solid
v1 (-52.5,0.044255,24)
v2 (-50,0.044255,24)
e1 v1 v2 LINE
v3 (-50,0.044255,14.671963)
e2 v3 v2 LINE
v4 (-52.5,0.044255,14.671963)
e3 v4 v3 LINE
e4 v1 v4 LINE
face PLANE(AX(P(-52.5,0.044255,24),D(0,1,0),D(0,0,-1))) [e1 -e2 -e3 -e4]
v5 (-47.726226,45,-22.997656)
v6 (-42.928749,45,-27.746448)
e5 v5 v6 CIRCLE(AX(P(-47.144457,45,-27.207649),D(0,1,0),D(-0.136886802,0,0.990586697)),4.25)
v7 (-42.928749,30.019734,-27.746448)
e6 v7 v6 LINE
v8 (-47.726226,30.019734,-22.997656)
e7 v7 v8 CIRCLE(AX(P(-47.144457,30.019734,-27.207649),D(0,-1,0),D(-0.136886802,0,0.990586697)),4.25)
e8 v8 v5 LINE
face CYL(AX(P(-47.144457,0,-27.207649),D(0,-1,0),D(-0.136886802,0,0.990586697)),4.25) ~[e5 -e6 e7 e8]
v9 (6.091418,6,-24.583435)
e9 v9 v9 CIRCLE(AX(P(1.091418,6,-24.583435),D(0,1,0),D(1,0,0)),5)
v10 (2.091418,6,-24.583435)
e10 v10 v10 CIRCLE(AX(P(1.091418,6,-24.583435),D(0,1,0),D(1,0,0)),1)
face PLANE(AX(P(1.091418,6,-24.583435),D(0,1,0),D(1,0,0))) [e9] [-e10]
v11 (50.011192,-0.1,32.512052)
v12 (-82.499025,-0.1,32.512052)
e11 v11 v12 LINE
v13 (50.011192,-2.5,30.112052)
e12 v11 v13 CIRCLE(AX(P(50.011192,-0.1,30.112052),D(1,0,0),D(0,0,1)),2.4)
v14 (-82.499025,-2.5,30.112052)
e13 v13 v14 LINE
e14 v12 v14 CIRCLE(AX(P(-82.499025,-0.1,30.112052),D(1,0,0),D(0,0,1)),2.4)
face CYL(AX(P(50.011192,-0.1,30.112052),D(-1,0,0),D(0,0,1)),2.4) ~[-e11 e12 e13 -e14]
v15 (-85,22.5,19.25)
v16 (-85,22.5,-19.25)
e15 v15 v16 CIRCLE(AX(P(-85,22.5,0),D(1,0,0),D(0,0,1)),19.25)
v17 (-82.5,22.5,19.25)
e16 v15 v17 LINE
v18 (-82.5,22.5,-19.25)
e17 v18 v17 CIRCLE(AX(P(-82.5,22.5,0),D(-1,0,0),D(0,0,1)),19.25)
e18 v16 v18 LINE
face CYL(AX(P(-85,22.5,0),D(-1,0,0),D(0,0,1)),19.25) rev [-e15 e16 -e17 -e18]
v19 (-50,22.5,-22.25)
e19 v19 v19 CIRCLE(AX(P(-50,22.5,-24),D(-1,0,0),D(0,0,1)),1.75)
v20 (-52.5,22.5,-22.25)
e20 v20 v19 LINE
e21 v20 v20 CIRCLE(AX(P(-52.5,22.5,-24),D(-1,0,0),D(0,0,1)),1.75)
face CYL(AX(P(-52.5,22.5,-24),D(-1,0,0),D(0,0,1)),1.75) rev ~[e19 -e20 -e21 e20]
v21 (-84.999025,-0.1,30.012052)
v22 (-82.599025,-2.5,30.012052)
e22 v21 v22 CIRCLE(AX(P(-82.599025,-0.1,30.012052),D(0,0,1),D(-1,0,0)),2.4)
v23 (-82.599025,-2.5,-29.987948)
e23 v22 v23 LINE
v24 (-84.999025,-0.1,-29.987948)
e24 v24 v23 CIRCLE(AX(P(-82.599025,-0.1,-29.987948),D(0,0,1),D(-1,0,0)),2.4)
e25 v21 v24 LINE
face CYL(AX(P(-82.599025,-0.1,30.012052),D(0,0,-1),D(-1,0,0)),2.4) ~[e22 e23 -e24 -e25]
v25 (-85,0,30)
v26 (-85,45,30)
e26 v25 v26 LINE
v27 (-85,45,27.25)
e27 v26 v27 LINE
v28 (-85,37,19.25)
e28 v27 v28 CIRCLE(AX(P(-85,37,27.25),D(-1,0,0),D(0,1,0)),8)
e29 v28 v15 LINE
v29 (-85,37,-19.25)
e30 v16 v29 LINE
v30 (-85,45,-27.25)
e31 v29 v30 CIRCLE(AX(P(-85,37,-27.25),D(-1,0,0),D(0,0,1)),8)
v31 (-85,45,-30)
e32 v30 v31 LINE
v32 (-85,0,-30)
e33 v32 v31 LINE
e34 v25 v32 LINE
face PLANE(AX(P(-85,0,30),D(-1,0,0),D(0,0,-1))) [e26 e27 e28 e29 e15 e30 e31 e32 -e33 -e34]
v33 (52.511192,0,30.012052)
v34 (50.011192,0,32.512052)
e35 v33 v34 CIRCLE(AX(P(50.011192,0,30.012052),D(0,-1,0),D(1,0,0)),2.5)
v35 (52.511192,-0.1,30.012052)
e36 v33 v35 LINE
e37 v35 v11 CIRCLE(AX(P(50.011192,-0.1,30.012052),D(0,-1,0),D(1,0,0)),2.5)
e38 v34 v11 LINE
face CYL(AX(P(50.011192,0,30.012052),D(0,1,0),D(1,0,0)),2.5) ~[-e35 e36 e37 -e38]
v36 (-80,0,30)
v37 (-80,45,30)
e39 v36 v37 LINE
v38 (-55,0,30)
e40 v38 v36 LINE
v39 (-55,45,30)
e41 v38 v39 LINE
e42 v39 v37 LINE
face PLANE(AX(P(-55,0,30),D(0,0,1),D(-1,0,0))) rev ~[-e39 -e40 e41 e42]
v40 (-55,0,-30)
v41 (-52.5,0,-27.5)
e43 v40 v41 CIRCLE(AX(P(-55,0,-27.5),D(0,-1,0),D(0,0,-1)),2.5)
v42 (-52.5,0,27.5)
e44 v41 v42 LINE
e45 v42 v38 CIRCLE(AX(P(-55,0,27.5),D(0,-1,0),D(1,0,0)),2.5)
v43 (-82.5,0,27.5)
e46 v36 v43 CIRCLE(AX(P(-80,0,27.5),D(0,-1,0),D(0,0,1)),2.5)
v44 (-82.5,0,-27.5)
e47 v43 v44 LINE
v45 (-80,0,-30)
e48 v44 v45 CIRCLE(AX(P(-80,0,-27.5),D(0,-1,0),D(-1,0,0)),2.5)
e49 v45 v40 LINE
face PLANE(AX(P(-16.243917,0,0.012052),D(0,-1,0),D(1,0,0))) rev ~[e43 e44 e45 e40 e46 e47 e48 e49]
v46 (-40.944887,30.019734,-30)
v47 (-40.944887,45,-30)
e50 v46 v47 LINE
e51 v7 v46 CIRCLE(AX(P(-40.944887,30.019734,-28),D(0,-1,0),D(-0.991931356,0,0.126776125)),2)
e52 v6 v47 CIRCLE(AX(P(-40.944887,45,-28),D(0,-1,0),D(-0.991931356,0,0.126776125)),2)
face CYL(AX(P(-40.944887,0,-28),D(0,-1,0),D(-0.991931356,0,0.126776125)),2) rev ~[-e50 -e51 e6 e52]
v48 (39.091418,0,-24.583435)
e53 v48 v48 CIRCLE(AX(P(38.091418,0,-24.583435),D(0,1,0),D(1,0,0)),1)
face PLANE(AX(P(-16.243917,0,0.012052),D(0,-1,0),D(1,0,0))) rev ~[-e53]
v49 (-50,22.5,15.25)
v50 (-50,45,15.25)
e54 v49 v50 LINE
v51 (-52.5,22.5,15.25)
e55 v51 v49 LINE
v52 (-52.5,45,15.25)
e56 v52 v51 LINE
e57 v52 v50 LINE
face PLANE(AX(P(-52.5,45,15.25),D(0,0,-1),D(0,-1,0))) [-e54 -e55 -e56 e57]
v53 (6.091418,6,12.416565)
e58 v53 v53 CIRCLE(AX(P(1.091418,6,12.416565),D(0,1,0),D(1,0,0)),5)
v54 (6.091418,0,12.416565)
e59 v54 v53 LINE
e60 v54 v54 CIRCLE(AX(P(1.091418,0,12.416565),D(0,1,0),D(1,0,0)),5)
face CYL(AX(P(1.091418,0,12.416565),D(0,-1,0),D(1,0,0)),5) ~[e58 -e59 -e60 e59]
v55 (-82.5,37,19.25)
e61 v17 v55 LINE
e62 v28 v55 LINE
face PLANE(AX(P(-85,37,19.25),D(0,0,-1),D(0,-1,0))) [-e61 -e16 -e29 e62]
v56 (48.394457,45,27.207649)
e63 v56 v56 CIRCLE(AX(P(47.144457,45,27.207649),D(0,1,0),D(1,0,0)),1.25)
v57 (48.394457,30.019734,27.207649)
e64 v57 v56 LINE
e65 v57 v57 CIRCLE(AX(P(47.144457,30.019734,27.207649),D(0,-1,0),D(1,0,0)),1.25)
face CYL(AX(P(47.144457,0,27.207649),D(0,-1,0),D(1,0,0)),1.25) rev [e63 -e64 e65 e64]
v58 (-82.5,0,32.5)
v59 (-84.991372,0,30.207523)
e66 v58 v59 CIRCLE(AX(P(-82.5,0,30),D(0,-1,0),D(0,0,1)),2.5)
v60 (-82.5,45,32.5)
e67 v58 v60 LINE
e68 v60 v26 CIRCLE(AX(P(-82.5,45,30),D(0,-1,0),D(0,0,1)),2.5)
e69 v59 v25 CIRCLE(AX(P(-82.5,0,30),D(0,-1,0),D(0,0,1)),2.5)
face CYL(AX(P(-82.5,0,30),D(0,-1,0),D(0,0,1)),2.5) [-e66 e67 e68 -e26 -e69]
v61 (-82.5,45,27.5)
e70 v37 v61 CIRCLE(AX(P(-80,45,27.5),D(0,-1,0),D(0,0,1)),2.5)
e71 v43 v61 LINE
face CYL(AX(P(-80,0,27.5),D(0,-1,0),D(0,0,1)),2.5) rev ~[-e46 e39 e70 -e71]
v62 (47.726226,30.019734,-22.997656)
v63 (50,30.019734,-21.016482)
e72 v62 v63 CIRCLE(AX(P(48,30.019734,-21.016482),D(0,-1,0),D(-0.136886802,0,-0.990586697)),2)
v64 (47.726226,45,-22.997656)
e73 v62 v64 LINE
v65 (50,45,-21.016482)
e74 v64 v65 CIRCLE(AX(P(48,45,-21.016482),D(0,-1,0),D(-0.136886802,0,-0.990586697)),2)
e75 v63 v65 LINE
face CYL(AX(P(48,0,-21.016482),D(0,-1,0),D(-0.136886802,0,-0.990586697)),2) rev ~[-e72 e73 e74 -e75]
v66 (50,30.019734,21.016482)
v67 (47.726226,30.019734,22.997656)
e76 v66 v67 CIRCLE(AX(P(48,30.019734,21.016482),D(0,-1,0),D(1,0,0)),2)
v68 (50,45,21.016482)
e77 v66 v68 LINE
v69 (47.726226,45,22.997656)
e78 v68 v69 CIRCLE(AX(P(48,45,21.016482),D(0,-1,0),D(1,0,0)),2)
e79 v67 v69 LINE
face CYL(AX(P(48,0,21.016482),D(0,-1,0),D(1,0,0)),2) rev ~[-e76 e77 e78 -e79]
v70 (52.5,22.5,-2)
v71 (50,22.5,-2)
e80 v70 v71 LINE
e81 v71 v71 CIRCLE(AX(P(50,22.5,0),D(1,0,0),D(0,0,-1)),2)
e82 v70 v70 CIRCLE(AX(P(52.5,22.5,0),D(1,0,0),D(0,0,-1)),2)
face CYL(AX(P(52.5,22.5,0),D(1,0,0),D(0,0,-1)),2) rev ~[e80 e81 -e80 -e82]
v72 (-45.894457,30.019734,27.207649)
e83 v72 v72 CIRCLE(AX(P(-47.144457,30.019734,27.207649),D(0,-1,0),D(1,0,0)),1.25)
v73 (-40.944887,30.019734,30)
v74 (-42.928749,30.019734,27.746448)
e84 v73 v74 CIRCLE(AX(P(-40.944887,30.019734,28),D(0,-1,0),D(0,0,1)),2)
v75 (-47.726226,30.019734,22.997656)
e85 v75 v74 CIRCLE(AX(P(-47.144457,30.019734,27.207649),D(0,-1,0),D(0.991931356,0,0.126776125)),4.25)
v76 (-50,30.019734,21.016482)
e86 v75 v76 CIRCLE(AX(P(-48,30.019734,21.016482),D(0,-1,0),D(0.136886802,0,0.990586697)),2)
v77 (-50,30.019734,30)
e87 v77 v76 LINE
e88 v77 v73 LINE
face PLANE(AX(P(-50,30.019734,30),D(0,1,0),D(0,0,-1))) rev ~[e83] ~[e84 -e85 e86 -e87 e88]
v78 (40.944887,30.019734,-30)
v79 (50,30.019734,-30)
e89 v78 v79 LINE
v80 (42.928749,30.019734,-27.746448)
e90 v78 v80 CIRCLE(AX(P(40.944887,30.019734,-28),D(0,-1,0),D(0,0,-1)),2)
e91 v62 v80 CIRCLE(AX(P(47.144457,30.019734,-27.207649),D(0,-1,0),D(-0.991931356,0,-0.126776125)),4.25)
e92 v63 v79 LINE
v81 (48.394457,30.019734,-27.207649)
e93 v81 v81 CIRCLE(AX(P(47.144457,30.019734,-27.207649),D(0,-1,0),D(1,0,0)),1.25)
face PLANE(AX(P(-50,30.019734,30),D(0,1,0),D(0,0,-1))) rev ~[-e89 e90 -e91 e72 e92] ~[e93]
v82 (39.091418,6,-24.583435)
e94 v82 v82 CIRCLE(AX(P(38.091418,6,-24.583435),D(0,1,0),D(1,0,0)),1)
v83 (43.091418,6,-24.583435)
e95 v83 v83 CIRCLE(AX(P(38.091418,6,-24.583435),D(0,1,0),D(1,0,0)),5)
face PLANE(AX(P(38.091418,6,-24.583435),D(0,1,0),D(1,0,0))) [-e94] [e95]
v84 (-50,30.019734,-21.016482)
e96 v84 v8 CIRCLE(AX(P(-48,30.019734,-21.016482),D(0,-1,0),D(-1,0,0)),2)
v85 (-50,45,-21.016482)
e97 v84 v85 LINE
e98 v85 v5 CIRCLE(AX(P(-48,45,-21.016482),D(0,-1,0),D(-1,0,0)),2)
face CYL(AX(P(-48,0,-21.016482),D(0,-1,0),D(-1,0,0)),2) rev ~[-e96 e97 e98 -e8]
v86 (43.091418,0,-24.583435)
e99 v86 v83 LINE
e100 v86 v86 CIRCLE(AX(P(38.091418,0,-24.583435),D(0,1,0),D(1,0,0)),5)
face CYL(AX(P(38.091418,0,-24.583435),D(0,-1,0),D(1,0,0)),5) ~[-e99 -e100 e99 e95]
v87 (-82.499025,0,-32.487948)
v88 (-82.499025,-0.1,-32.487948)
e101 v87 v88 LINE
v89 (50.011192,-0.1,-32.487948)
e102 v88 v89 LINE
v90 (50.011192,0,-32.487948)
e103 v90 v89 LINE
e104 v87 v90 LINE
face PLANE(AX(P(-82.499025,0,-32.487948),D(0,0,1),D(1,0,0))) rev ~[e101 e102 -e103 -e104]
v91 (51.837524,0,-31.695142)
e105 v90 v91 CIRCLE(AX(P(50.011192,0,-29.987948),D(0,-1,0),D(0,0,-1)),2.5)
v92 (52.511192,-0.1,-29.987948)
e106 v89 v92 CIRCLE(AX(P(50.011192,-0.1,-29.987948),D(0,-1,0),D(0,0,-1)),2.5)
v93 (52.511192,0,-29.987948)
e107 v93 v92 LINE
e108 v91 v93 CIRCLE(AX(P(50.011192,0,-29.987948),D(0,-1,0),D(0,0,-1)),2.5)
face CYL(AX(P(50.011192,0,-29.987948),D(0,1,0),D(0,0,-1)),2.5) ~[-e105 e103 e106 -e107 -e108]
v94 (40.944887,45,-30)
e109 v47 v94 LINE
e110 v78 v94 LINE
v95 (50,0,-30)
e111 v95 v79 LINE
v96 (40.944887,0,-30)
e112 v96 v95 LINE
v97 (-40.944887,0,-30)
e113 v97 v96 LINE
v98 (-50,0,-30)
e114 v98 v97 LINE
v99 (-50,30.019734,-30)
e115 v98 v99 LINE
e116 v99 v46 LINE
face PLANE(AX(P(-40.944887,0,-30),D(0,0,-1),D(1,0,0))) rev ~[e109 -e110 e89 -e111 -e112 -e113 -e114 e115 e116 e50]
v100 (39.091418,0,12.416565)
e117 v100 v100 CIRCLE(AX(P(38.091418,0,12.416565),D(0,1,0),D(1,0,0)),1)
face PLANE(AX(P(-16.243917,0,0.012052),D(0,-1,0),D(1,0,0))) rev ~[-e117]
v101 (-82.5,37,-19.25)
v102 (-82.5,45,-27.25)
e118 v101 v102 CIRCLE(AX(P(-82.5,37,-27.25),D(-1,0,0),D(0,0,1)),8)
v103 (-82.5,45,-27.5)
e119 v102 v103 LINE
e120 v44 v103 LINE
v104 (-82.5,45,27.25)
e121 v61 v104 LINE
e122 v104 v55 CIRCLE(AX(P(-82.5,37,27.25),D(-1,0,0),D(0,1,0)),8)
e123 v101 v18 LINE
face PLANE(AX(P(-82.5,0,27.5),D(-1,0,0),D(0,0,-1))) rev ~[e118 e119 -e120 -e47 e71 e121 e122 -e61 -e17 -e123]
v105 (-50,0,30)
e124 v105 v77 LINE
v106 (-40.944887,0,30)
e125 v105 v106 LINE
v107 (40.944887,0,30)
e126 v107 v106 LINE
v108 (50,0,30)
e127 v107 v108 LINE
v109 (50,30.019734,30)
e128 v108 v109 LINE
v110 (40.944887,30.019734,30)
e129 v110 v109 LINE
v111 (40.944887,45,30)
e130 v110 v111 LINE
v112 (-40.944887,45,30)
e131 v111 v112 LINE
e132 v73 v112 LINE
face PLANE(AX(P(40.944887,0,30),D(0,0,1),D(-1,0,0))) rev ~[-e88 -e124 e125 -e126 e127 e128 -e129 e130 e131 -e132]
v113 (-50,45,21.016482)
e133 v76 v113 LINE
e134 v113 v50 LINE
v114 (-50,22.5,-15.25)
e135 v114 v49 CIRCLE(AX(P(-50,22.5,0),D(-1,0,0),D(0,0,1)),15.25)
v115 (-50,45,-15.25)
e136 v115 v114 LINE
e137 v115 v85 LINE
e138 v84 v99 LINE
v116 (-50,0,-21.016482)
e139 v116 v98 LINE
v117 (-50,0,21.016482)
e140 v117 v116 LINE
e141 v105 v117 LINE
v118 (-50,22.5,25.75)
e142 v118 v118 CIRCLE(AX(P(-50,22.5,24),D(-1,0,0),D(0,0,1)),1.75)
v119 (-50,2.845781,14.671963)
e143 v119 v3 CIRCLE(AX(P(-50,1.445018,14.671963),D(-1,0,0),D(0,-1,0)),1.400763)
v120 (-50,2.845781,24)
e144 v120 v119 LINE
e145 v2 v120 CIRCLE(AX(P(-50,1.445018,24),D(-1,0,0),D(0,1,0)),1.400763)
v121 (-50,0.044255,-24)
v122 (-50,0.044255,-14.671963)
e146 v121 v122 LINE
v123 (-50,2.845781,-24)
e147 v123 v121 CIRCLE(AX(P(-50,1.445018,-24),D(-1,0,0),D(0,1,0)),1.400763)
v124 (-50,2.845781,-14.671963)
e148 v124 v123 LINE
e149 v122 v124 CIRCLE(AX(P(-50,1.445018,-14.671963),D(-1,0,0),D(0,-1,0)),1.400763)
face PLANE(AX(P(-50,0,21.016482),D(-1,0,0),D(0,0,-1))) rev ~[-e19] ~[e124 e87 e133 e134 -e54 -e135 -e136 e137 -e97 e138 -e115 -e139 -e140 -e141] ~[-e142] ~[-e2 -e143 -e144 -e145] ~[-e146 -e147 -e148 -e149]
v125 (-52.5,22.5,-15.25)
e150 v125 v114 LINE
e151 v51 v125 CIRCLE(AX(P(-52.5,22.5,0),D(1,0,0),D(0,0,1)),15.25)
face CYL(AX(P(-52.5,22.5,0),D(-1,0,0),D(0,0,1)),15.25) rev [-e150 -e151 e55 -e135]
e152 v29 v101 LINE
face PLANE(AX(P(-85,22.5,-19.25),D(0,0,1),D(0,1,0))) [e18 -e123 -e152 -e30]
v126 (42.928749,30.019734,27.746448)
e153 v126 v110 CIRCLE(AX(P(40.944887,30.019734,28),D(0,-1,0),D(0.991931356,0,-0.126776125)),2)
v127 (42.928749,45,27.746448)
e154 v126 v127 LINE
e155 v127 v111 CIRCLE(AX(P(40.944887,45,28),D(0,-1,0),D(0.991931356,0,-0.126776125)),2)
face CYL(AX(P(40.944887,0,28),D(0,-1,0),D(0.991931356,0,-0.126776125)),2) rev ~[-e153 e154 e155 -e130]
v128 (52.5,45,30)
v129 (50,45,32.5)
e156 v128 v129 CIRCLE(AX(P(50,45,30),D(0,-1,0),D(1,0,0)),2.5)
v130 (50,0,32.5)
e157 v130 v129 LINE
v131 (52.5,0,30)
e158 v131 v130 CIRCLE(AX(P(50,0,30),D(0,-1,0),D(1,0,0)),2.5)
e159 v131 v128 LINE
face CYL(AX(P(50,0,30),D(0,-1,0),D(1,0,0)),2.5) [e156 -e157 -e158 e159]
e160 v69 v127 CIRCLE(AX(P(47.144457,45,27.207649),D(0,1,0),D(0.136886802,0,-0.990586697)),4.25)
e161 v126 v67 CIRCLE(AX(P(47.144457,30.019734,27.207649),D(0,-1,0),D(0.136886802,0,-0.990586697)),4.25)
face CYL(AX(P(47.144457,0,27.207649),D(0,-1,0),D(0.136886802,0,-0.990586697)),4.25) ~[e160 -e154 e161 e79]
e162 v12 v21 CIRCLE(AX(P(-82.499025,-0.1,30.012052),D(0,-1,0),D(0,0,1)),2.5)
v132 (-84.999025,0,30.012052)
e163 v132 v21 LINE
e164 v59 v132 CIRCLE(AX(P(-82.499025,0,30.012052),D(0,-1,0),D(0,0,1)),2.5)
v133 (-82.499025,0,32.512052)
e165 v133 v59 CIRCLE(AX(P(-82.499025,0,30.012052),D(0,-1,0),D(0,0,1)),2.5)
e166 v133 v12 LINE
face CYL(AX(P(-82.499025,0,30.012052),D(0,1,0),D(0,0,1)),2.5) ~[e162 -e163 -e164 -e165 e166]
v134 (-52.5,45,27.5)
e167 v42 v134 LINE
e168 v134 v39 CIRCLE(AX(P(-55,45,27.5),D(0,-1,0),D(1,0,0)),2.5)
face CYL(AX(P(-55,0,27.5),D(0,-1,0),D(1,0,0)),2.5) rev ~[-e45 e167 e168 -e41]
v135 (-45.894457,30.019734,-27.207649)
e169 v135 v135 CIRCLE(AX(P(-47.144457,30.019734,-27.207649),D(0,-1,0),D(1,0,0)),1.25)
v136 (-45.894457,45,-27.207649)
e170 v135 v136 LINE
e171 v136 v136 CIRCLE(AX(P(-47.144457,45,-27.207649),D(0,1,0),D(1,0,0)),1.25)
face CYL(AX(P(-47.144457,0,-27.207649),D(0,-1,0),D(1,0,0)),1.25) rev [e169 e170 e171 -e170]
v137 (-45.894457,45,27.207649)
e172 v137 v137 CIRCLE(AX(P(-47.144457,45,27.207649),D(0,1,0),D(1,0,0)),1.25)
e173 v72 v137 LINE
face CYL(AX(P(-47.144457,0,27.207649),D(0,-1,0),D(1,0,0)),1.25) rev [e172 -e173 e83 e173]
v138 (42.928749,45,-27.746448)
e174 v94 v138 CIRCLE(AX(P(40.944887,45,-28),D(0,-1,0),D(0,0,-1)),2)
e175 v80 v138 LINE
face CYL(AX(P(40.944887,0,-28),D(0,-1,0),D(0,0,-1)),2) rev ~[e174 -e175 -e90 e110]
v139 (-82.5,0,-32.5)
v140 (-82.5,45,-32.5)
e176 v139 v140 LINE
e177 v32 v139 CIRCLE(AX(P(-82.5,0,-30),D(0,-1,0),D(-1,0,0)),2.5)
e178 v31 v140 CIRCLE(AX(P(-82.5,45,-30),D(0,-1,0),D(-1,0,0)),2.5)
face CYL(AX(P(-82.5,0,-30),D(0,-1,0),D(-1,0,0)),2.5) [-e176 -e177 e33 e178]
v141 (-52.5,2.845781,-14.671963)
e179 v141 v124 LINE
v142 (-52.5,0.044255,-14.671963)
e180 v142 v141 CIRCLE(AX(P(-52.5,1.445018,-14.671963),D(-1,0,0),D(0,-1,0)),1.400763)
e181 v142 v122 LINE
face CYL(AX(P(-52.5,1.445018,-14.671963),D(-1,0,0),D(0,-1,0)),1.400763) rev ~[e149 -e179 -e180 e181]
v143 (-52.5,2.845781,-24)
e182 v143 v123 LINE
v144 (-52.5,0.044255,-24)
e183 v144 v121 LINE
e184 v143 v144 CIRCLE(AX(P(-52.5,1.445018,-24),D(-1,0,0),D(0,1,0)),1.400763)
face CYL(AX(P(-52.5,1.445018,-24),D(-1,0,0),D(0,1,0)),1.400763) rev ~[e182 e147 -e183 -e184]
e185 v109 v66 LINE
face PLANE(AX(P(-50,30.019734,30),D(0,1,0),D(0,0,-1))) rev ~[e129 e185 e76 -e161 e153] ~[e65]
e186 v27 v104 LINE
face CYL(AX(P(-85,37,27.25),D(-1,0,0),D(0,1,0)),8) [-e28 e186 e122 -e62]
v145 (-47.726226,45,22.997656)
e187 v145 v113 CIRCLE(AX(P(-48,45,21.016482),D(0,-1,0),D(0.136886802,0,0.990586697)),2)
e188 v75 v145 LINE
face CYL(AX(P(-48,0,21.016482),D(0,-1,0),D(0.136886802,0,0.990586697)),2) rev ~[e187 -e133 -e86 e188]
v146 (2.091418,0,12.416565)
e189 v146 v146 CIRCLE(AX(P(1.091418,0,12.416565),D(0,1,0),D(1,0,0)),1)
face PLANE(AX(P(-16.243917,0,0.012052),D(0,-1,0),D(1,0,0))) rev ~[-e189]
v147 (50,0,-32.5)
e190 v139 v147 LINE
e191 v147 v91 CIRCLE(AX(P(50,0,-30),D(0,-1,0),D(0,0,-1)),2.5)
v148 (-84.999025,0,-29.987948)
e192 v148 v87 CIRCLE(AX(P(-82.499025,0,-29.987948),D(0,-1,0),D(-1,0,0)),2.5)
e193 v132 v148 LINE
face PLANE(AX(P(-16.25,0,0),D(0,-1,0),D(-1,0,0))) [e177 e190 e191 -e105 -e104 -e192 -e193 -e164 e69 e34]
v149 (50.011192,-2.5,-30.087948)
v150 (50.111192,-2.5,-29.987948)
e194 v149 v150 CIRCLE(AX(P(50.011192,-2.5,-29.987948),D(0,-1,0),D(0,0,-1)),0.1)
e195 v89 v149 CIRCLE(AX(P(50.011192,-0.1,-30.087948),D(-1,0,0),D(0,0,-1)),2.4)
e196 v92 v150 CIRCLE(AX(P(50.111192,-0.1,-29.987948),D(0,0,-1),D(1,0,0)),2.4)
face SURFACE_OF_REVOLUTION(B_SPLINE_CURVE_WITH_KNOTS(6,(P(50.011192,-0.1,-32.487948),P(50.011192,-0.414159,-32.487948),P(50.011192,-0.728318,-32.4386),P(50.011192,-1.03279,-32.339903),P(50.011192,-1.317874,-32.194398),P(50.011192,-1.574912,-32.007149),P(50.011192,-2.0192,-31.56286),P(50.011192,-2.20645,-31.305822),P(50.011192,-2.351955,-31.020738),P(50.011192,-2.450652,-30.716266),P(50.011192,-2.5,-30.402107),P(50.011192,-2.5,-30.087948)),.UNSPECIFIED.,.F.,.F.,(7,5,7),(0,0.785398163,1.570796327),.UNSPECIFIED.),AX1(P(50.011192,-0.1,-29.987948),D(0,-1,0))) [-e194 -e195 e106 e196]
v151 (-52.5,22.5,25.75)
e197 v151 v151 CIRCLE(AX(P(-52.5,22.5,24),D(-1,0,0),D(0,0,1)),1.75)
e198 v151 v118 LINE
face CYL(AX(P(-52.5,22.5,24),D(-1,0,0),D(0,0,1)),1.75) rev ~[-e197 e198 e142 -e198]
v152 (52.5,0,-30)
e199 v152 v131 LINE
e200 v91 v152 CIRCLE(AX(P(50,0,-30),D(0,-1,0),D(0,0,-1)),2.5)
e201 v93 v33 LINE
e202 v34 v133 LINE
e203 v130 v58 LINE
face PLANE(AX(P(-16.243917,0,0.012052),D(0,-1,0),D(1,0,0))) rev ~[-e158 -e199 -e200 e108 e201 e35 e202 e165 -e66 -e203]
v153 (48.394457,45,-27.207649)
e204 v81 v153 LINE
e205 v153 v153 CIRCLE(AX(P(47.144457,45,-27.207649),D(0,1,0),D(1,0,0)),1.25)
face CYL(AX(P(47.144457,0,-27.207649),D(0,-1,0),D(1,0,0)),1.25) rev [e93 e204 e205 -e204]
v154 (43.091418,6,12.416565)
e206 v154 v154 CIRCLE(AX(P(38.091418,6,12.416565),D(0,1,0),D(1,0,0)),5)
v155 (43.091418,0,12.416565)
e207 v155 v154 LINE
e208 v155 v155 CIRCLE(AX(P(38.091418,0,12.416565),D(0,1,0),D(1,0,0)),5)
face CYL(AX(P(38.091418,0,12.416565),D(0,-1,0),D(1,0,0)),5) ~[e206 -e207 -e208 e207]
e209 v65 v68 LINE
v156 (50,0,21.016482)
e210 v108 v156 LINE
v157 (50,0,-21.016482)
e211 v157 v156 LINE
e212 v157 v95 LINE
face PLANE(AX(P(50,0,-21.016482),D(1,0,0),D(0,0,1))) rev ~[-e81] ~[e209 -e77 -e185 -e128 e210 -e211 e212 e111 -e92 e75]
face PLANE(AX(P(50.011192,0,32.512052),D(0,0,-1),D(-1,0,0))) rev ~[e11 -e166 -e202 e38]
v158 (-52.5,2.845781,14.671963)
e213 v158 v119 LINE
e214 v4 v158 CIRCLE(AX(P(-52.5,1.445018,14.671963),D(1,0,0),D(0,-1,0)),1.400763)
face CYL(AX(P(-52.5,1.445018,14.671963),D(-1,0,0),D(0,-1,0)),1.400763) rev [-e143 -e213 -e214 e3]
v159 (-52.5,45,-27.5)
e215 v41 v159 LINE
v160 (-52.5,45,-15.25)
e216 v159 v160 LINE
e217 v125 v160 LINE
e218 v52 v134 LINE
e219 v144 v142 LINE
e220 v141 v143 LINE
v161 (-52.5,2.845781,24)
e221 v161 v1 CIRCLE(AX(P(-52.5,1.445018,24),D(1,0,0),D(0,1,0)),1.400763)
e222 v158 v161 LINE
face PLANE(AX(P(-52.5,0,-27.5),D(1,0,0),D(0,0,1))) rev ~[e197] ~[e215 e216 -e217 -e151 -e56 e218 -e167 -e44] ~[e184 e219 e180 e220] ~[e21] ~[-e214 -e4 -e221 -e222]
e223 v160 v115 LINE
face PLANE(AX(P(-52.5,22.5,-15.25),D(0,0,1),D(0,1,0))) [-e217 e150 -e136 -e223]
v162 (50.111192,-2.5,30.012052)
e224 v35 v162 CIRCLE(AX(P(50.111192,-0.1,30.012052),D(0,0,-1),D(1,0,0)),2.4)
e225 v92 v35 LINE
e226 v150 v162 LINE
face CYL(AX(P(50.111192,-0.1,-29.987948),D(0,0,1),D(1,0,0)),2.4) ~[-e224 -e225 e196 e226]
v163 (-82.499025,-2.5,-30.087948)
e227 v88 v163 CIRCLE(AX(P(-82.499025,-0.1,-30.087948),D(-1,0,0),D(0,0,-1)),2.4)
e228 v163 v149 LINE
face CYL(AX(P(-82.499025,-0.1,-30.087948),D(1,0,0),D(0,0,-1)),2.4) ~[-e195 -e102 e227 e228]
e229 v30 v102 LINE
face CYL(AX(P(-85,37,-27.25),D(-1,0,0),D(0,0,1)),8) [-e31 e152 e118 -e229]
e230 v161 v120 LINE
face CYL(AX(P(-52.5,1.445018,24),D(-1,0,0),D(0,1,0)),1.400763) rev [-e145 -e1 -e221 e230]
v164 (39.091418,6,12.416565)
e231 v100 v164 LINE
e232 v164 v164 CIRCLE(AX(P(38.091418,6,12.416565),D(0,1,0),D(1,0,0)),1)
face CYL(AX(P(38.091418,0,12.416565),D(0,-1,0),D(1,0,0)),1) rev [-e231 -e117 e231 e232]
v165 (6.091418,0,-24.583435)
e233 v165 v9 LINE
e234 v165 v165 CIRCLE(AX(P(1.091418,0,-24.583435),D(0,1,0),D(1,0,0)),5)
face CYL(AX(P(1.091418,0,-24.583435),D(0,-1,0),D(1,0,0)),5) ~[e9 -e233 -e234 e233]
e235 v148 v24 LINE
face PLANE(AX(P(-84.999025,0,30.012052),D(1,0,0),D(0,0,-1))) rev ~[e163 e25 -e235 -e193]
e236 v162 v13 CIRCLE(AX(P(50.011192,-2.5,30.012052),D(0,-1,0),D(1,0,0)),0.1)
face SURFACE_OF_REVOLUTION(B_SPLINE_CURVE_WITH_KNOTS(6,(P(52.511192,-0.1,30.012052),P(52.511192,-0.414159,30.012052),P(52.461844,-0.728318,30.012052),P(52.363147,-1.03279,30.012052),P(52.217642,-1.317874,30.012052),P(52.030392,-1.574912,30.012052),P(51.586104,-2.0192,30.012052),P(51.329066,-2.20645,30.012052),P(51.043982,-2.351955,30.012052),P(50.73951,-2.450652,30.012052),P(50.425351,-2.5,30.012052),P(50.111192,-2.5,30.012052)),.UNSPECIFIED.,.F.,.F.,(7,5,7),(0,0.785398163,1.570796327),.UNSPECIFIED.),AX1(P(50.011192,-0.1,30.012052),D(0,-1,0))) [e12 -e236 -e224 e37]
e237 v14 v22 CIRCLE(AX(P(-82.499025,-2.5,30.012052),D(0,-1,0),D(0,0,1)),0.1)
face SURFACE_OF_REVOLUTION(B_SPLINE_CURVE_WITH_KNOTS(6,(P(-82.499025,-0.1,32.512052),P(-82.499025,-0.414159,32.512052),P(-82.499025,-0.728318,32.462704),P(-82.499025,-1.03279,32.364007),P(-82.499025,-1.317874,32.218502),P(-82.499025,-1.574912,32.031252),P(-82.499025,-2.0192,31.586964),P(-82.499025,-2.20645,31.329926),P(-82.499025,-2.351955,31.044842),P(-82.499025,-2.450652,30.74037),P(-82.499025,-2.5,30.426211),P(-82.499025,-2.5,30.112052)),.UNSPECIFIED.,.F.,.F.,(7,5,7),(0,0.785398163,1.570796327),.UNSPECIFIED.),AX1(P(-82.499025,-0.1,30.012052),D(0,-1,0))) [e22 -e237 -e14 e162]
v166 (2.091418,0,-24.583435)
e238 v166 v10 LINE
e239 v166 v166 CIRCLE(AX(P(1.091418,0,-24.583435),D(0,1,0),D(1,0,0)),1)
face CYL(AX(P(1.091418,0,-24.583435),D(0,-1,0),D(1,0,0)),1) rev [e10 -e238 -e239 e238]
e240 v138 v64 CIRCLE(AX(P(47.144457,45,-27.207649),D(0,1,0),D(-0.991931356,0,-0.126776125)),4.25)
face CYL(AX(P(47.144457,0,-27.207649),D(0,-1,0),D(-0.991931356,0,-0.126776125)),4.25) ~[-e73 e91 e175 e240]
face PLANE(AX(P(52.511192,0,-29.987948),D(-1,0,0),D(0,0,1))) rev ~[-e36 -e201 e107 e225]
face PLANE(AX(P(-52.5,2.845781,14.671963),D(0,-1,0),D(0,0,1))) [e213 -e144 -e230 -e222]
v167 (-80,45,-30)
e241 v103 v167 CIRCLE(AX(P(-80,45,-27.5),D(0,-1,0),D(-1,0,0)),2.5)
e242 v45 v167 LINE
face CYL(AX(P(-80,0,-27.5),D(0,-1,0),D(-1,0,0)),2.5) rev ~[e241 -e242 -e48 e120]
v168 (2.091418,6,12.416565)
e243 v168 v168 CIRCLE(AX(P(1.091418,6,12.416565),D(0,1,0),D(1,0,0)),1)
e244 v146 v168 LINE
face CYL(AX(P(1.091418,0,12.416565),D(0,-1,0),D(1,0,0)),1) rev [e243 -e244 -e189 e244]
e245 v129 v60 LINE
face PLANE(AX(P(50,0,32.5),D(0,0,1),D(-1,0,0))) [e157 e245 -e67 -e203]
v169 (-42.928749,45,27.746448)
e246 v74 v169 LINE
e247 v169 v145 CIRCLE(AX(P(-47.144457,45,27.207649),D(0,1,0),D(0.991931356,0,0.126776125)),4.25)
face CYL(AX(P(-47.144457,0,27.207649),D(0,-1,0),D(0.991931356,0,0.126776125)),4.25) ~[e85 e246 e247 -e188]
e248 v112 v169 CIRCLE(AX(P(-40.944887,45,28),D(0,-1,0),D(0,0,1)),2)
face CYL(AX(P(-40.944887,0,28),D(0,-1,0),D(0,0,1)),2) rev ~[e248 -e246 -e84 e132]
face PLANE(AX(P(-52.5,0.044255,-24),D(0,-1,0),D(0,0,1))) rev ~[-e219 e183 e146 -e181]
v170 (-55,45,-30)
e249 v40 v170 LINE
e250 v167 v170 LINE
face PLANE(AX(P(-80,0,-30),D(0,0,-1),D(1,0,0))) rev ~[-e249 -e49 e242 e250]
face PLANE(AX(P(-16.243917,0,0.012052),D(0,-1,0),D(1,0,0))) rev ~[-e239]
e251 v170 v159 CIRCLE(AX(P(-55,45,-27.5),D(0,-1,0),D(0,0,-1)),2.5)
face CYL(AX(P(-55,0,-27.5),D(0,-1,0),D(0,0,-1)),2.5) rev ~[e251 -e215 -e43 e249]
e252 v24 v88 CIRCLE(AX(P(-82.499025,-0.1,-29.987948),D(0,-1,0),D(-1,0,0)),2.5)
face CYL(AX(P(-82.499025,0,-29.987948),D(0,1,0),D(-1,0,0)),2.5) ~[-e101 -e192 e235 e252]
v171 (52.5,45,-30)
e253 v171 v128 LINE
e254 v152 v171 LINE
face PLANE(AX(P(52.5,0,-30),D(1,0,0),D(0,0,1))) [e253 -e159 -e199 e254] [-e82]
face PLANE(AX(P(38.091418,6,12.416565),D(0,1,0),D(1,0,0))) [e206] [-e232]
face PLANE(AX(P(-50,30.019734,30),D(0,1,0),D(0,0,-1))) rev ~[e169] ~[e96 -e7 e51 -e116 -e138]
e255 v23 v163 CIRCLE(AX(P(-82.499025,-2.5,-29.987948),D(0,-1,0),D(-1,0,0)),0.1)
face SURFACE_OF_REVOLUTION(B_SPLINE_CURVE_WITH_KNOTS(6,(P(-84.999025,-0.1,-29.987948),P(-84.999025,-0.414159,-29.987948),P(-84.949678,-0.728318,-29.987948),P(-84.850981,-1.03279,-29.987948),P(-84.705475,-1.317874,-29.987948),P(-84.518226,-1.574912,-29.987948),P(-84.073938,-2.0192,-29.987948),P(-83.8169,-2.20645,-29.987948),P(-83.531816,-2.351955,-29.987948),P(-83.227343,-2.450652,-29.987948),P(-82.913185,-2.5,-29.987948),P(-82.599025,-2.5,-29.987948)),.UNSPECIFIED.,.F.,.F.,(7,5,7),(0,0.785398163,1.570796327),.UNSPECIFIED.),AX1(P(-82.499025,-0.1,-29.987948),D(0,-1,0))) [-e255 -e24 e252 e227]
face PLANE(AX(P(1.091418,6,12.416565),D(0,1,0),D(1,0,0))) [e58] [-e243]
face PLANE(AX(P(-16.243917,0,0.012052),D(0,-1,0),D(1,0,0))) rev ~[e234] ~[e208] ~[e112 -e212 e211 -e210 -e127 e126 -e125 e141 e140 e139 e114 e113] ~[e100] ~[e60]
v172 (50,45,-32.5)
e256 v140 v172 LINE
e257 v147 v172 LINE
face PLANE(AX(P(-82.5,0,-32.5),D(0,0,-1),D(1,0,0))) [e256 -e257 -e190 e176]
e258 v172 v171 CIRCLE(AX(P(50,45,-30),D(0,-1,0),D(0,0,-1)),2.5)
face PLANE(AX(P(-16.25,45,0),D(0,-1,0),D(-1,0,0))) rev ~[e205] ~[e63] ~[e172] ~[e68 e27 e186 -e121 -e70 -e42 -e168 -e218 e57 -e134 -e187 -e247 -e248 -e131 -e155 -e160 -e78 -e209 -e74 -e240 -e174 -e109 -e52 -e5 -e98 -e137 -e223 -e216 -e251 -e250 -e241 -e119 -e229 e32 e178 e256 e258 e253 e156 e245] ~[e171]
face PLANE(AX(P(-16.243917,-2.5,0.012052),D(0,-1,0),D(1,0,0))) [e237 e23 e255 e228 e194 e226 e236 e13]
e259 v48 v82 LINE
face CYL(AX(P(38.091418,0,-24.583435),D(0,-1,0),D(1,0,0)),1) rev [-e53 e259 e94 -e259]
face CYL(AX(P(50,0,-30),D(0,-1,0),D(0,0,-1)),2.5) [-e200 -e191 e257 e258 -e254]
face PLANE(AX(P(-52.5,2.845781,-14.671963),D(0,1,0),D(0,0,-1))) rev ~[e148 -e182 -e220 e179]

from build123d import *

# Parameters (mm, degrees)
SKETCH_1_R          = 1.25
EXTRUDE_1_DEPTH     = 45
EXTRUDE_2_DEPTH     = 2.5
FILLET_1_R          = 2.4
CUT_EXTRUDE_1_REACH = 107.011
SKETCH_4_R          = 1.75
SKETCH_5_W          = 60
SKETCH_5_H          = 30.019734177
CUT_EXTRUDE_2_DEPTH = 100
SKETCH_7_R          = 2
CUT_EXTRUDE_3_DEPTH = 2.5
SKETCH_8_R          = 5
SKETCH_8_R_2        = 1
EXTRUDE_7_DEPTH     = 6
CUT_EXTRUDE_4_REACH = 139.511


with BuildPart() as part:
    # Эскиз1 → Бобышка-Вытянуть1 (new body)
    with BuildSketch(Plane(origin=(0, 0, 0), x_dir=(1, 0, 0), z_dir=(0, 1, 0))):
        with BuildLine():
            Line((-82.5, 32.5), (50, 32.5))
            ThreePointArc((50, 32.5), (51.767766953, 31.767766953), (52.5, 30))
            Line((52.5, 30), (52.5, -30))
            ThreePointArc((52.5, -30), (51.767766953, -31.767766953), (50, -32.5))
            Line((50, -32.5), (-82.5, -32.5))
            ThreePointArc((-82.5, -32.5), (-84.267766953, -31.767766953), (-85, -30))
            Line((-85, -30), (-85, 30))
            ThreePointArc((-85, 30), (-84.267766953, 31.767766953), (-82.5, 32.5))
        make_face()
        with Locations((-47.144457485, 27.207649218)):
            Circle(SKETCH_1_R, mode=Mode.SUBTRACT)
        with Locations((47.144457485, -27.207649218)):
            Circle(SKETCH_1_R, mode=Mode.SUBTRACT)
        with Locations((47.144457485, 27.207649218)):
            Circle(SKETCH_1_R, mode=Mode.SUBTRACT)
        with Locations((-47.144457485, -27.207649218)):
            Circle(SKETCH_1_R, mode=Mode.SUBTRACT)
        with BuildLine():
            Line((-40.944886513, 30), (40.944886513, 30))
            ThreePointArc((40.944886513, 30), (42.446070129, 29.321532349), (42.928749224, 27.74644775))
            ThreePointArc((42.928749224, 27.74644775), (44.154618836, 24.187158388), (47.726226395, 22.997655757))
            ThreePointArc((47.726226395, 22.997655757), (49.313859351, 22.524386076), (50, 21.016482364))
            Line((50, 21.016482364), (50, -21.016482364))
            ThreePointArc((50, -21.016482364), (49.313859351, -22.524386076), (47.726226395, -22.997655757))
            ThreePointArc((47.726226395, -22.997655757), (44.154618836, -24.187158388), (42.928749224, -27.74644775))
            ThreePointArc((42.928749224, -27.74644775), (42.446070129, -29.321532349), (40.944886513, -30))
            Line((40.944886513, -30), (-40.944886513, -30))
            ThreePointArc((-40.944886513, -30), (-42.446070129, -29.321532349), (-42.928749224, -27.74644775))
            ThreePointArc((-42.928749224, -27.74644775), (-44.154618836, -24.187158388), (-47.726226395, -22.997655757))
            ThreePointArc((-47.726226395, -22.997655757), (-49.313859351, -22.524386076), (-50, -21.016482364))
            Line((-50, -21.016482364), (-50, 21.016482364))
            ThreePointArc((-50, 21.016482364), (-49.313859351, 22.524386076), (-47.726226395, 22.997655757))
            ThreePointArc((-47.726226395, 22.997655757), (-44.154618836, 24.187158388), (-42.928749224, 27.74644775))
            ThreePointArc((-42.928749224, 27.74644775), (-42.446070129, 29.321532349), (-40.944886513, 30))
        make_face(mode=Mode.SUBTRACT)
        with BuildLine():
            Line((-80, 30), (-55, 30))
            ThreePointArc((-55, 30), (-53.232233047, 29.267766953), (-52.5, 27.5))
            Line((-52.5, 27.5), (-52.5, -27.5))
            ThreePointArc((-52.5, -27.5), (-53.232233047, -29.267766953), (-55, -30))
            Line((-55, -30), (-80, -30))
            ThreePointArc((-80, -30), (-81.767766953, -29.267766953), (-82.5, -27.5))
            Line((-82.5, -27.5), (-82.5, 27.5))
            ThreePointArc((-82.5, 27.5), (-81.767766953, 29.267766953), (-80, 30))
        make_face(mode=Mode.SUBTRACT)
    extrude(amount=EXTRUDE_1_DEPTH)

    # Эскиз2 → Бобышка-Вытянуть2 (add)
    with BuildSketch(Plane.XZ):
        with BuildLine():
            Line((-82.499025459, -32.487948089), (50.01119166, -32.487948089))
            ThreePointArc((50.01119166, -32.487948089), (51.778958613, -31.755715042), (52.51119166, -29.987948089))
            Line((52.51119166, -29.987948089), (52.51119166, 30.012051911))
            ThreePointArc((52.51119166, 30.012051911), (51.778958613, 31.779818864), (50.01119166, 32.512051911))
            Line((50.01119166, 32.512051911), (-82.499025459, 32.512051911))
            ThreePointArc((-82.499025459, 32.512051911), (-84.266792412, 31.779818864), (-84.999025459, 30.012051911))
            Line((-84.999025459, 30.012051911), (-84.999025459, -29.987948089))
            ThreePointArc((-84.999025459, -29.987948089), (-84.266792412, -31.755715042), (-82.499025459, -32.487948089))
        make_face()
    extrude(amount=EXTRUDE_2_DEPTH)

    # Скругление1
    fillet_1_edges = [part.edges().sort_by_distance(p)[0] for p in [
        (51.778958613, -2.5, -31.755715042),
        (52.51119166, -2.5, 0.012051911),
        (51.778958613, -2.5, 31.779818864),
        (-16.2439169, -2.5, 32.512051911),
        (-84.266792412, -2.5, 31.779818864),
        (-84.999025459, -2.5, 0.012051911),
        (-84.266792412, -2.5, -31.755715042),
        (-16.2439169, -2.5, -32.487948089),
    ]]
    fillet(fillet_1_edges, radius=FILLET_1_R)

    # Эскиз4 → Вырез-Вытянуть1 (cut, up to next)
    with BuildSketch(Plane.ZY.offset(52.5), mode=Mode.PRIVATE) as cut_extrude_1_sk1:
        with Locations((-24, 22.5)):
            Circle(SKETCH_4_R)
    cut_extrude_1_tool1 = extrude(cut_extrude_1_sk1.sketch, amount=-CUT_EXTRUDE_1_REACH, mode=Mode.PRIVATE) & part.part
    add(cut_extrude_1_tool1.solids().sort_by_distance((-52.5, 22.5, -24))[0], mode=Mode.SUBTRACT)
    # Эскиз4 → Вырез-Вытянуть1 (cut, up to next)
    with BuildSketch(Plane.ZY.offset(52.5), mode=Mode.PRIVATE) as cut_extrude_1_sk2:
        with Locations((24, 22.5)):
            Circle(SKETCH_4_R)
    cut_extrude_1_tool2 = extrude(cut_extrude_1_sk2.sketch, amount=-CUT_EXTRUDE_1_REACH, mode=Mode.PRIVATE) & part.part
    add(cut_extrude_1_tool2.solids().sort_by_distance((-52.5, 22.5, 24))[0], mode=Mode.SUBTRACT)
    # Эскиз4 → Вырез-Вытянуть1 (cut, up to next)
    with BuildSketch(Plane.ZY.offset(52.5), mode=Mode.PRIVATE) as cut_extrude_1_sk3:
        with BuildLine():
            Line((-15.25, 22.5), (-15.25, 45))
            Line((-15.25, 45), (15.25, 45))
            Line((15.25, 45), (15.25, 22.5))
            ThreePointArc((15.25, 22.5), (0, 7.25), (-15.25, 22.5))
        make_face()
    cut_extrude_1_tool3 = extrude(cut_extrude_1_sk3.sketch, amount=-CUT_EXTRUDE_1_REACH, mode=Mode.PRIVATE) & part.part
    add(cut_extrude_1_tool3.solids().sort_by_distance((-52.5, 27.593324, 0))[0], mode=Mode.SUBTRACT)
    # Эскиз4 → Вырез-Вытянуть1 (cut, up to next)
    with BuildSketch(Plane.ZY.offset(52.5), mode=Mode.PRIVATE) as cut_extrude_1_sk4:
        with BuildLine():
            Line((14.671963407, 2.845780587), (24, 2.845780587))
            ThreePointArc((24, 2.845780587), (25.400762709, 1.445017878), (24, 0.044255169))
            Line((24, 0.044255169), (14.671963407, 0.044255169))
            ThreePointArc((14.671963407, 0.044255169), (13.271200698, 1.445017878), (14.671963407, 2.845780587))
        make_face()
    cut_extrude_1_tool4 = extrude(cut_extrude_1_sk4.sketch, amount=-CUT_EXTRUDE_1_REACH, mode=Mode.PRIVATE) & part.part
    add(cut_extrude_1_tool4.solids().sort_by_distance((-52.5, 1.445018, 19.335982))[0], mode=Mode.SUBTRACT)
    # Эскиз4 → Вырез-Вытянуть1 (cut, up to next)
    with BuildSketch(Plane.ZY.offset(52.5), mode=Mode.PRIVATE) as cut_extrude_1_sk5:
        with BuildLine():
            Line((-14.671963407, 2.845780587), (-24, 2.845780587))
            ThreePointArc((-24, 2.845780587), (-25.400762709, 1.445017878), (-24, 0.044255169))
            Line((-24, 0.044255169), (-14.671963407, 0.044255169))
            ThreePointArc((-14.671963407, 0.044255169), (-13.271200698, 1.445017878), (-14.671963407, 2.845780587))
        make_face()
    cut_extrude_1_tool5 = extrude(cut_extrude_1_sk5.sketch, amount=-CUT_EXTRUDE_1_REACH, mode=Mode.PRIVATE) & part.part
    add(cut_extrude_1_tool5.solids().sort_by_distance((-52.5, 1.445018, -19.335982))[0], mode=Mode.SUBTRACT)

    # Эскиз5 → Вырез-Вытянуть2 (cut)
    with BuildSketch(Plane(origin=(-50, 0, 0), x_dir=(0, 0, -1), z_dir=(1, 0, 0))):
        with Locations((0, 15.009867089)):
            Rectangle(SKETCH_5_W, SKETCH_5_H)
    extrude(amount=CUT_EXTRUDE_2_DEPTH, mode=Mode.SUBTRACT)

    # Эскиз7 → Вырез-Вытянуть3 (cut)
    with BuildSketch(Plane(origin=(52.5, 0, 0), x_dir=(0, 0, -1), z_dir=(1, 0, 0))):
        with Locations((0, 22.5)):
            Circle(SKETCH_7_R)
    extrude(amount=-CUT_EXTRUDE_3_DEPTH, mode=Mode.SUBTRACT)

    # Эскиз8 → Бобышка-Вытянуть7 (add)
    with BuildSketch(Plane(origin=(0, 0, 0), x_dir=(1, 0, 0), z_dir=(0, 1, 0))):
        with Locations((1.091418082, 24.583435137)):
            Circle(SKETCH_8_R)
        with Locations((1.091418082, 24.583435137)):
            Circle(SKETCH_8_R_2, mode=Mode.SUBTRACT)
        with Locations((38.091418082, 24.583435137)):
            Circle(SKETCH_8_R)
        with Locations((38.091418082, 24.583435137)):
            Circle(SKETCH_8_R_2, mode=Mode.SUBTRACT)
        with Locations((38.091418082, -12.416564863)):
            Circle(SKETCH_8_R)
        with Locations((38.091418082, -12.416564863)):
            Circle(SKETCH_8_R_2, mode=Mode.SUBTRACT)
        with Locations((1.091418082, -12.416564863)):
            Circle(SKETCH_8_R)
        with Locations((1.091418082, -12.416564863)):
            Circle(SKETCH_8_R_2, mode=Mode.SUBTRACT)
    extrude(amount=EXTRUDE_7_DEPTH)

    # Эскиз10 → Вырез-Вытянуть4 (cut, up to next)
    with BuildSketch(Plane.ZY.offset(85), mode=Mode.PRIVATE) as cut_extrude_4_sk1:
        with BuildLine():
            Line((-19.25, 22.5), (-19.25, 37))
            ThreePointArc((-19.25, 37), (-21.593145751, 42.656854249), (-27.25, 45))
            Line((-27.25, 45), (27.25, 45))
            ThreePointArc((27.25, 45), (21.593145751, 42.656854249), (19.25, 37))
            Line((19.25, 37), (19.25, 22.5))
            ThreePointArc((19.25, 22.5), (0, 3.25), (-19.25, 22.5))
        make_face()
    cut_extrude_4_tool1 = extrude(cut_extrude_4_sk1.sketch, amount=-CUT_EXTRUDE_4_REACH, mode=Mode.PRIVATE) & part.part
    add(cut_extrude_4_tool1.solids().sort_by_distance((-85, 26.266593, 0))[0], mode=Mode.SUBTRACT)


solid = part.part
